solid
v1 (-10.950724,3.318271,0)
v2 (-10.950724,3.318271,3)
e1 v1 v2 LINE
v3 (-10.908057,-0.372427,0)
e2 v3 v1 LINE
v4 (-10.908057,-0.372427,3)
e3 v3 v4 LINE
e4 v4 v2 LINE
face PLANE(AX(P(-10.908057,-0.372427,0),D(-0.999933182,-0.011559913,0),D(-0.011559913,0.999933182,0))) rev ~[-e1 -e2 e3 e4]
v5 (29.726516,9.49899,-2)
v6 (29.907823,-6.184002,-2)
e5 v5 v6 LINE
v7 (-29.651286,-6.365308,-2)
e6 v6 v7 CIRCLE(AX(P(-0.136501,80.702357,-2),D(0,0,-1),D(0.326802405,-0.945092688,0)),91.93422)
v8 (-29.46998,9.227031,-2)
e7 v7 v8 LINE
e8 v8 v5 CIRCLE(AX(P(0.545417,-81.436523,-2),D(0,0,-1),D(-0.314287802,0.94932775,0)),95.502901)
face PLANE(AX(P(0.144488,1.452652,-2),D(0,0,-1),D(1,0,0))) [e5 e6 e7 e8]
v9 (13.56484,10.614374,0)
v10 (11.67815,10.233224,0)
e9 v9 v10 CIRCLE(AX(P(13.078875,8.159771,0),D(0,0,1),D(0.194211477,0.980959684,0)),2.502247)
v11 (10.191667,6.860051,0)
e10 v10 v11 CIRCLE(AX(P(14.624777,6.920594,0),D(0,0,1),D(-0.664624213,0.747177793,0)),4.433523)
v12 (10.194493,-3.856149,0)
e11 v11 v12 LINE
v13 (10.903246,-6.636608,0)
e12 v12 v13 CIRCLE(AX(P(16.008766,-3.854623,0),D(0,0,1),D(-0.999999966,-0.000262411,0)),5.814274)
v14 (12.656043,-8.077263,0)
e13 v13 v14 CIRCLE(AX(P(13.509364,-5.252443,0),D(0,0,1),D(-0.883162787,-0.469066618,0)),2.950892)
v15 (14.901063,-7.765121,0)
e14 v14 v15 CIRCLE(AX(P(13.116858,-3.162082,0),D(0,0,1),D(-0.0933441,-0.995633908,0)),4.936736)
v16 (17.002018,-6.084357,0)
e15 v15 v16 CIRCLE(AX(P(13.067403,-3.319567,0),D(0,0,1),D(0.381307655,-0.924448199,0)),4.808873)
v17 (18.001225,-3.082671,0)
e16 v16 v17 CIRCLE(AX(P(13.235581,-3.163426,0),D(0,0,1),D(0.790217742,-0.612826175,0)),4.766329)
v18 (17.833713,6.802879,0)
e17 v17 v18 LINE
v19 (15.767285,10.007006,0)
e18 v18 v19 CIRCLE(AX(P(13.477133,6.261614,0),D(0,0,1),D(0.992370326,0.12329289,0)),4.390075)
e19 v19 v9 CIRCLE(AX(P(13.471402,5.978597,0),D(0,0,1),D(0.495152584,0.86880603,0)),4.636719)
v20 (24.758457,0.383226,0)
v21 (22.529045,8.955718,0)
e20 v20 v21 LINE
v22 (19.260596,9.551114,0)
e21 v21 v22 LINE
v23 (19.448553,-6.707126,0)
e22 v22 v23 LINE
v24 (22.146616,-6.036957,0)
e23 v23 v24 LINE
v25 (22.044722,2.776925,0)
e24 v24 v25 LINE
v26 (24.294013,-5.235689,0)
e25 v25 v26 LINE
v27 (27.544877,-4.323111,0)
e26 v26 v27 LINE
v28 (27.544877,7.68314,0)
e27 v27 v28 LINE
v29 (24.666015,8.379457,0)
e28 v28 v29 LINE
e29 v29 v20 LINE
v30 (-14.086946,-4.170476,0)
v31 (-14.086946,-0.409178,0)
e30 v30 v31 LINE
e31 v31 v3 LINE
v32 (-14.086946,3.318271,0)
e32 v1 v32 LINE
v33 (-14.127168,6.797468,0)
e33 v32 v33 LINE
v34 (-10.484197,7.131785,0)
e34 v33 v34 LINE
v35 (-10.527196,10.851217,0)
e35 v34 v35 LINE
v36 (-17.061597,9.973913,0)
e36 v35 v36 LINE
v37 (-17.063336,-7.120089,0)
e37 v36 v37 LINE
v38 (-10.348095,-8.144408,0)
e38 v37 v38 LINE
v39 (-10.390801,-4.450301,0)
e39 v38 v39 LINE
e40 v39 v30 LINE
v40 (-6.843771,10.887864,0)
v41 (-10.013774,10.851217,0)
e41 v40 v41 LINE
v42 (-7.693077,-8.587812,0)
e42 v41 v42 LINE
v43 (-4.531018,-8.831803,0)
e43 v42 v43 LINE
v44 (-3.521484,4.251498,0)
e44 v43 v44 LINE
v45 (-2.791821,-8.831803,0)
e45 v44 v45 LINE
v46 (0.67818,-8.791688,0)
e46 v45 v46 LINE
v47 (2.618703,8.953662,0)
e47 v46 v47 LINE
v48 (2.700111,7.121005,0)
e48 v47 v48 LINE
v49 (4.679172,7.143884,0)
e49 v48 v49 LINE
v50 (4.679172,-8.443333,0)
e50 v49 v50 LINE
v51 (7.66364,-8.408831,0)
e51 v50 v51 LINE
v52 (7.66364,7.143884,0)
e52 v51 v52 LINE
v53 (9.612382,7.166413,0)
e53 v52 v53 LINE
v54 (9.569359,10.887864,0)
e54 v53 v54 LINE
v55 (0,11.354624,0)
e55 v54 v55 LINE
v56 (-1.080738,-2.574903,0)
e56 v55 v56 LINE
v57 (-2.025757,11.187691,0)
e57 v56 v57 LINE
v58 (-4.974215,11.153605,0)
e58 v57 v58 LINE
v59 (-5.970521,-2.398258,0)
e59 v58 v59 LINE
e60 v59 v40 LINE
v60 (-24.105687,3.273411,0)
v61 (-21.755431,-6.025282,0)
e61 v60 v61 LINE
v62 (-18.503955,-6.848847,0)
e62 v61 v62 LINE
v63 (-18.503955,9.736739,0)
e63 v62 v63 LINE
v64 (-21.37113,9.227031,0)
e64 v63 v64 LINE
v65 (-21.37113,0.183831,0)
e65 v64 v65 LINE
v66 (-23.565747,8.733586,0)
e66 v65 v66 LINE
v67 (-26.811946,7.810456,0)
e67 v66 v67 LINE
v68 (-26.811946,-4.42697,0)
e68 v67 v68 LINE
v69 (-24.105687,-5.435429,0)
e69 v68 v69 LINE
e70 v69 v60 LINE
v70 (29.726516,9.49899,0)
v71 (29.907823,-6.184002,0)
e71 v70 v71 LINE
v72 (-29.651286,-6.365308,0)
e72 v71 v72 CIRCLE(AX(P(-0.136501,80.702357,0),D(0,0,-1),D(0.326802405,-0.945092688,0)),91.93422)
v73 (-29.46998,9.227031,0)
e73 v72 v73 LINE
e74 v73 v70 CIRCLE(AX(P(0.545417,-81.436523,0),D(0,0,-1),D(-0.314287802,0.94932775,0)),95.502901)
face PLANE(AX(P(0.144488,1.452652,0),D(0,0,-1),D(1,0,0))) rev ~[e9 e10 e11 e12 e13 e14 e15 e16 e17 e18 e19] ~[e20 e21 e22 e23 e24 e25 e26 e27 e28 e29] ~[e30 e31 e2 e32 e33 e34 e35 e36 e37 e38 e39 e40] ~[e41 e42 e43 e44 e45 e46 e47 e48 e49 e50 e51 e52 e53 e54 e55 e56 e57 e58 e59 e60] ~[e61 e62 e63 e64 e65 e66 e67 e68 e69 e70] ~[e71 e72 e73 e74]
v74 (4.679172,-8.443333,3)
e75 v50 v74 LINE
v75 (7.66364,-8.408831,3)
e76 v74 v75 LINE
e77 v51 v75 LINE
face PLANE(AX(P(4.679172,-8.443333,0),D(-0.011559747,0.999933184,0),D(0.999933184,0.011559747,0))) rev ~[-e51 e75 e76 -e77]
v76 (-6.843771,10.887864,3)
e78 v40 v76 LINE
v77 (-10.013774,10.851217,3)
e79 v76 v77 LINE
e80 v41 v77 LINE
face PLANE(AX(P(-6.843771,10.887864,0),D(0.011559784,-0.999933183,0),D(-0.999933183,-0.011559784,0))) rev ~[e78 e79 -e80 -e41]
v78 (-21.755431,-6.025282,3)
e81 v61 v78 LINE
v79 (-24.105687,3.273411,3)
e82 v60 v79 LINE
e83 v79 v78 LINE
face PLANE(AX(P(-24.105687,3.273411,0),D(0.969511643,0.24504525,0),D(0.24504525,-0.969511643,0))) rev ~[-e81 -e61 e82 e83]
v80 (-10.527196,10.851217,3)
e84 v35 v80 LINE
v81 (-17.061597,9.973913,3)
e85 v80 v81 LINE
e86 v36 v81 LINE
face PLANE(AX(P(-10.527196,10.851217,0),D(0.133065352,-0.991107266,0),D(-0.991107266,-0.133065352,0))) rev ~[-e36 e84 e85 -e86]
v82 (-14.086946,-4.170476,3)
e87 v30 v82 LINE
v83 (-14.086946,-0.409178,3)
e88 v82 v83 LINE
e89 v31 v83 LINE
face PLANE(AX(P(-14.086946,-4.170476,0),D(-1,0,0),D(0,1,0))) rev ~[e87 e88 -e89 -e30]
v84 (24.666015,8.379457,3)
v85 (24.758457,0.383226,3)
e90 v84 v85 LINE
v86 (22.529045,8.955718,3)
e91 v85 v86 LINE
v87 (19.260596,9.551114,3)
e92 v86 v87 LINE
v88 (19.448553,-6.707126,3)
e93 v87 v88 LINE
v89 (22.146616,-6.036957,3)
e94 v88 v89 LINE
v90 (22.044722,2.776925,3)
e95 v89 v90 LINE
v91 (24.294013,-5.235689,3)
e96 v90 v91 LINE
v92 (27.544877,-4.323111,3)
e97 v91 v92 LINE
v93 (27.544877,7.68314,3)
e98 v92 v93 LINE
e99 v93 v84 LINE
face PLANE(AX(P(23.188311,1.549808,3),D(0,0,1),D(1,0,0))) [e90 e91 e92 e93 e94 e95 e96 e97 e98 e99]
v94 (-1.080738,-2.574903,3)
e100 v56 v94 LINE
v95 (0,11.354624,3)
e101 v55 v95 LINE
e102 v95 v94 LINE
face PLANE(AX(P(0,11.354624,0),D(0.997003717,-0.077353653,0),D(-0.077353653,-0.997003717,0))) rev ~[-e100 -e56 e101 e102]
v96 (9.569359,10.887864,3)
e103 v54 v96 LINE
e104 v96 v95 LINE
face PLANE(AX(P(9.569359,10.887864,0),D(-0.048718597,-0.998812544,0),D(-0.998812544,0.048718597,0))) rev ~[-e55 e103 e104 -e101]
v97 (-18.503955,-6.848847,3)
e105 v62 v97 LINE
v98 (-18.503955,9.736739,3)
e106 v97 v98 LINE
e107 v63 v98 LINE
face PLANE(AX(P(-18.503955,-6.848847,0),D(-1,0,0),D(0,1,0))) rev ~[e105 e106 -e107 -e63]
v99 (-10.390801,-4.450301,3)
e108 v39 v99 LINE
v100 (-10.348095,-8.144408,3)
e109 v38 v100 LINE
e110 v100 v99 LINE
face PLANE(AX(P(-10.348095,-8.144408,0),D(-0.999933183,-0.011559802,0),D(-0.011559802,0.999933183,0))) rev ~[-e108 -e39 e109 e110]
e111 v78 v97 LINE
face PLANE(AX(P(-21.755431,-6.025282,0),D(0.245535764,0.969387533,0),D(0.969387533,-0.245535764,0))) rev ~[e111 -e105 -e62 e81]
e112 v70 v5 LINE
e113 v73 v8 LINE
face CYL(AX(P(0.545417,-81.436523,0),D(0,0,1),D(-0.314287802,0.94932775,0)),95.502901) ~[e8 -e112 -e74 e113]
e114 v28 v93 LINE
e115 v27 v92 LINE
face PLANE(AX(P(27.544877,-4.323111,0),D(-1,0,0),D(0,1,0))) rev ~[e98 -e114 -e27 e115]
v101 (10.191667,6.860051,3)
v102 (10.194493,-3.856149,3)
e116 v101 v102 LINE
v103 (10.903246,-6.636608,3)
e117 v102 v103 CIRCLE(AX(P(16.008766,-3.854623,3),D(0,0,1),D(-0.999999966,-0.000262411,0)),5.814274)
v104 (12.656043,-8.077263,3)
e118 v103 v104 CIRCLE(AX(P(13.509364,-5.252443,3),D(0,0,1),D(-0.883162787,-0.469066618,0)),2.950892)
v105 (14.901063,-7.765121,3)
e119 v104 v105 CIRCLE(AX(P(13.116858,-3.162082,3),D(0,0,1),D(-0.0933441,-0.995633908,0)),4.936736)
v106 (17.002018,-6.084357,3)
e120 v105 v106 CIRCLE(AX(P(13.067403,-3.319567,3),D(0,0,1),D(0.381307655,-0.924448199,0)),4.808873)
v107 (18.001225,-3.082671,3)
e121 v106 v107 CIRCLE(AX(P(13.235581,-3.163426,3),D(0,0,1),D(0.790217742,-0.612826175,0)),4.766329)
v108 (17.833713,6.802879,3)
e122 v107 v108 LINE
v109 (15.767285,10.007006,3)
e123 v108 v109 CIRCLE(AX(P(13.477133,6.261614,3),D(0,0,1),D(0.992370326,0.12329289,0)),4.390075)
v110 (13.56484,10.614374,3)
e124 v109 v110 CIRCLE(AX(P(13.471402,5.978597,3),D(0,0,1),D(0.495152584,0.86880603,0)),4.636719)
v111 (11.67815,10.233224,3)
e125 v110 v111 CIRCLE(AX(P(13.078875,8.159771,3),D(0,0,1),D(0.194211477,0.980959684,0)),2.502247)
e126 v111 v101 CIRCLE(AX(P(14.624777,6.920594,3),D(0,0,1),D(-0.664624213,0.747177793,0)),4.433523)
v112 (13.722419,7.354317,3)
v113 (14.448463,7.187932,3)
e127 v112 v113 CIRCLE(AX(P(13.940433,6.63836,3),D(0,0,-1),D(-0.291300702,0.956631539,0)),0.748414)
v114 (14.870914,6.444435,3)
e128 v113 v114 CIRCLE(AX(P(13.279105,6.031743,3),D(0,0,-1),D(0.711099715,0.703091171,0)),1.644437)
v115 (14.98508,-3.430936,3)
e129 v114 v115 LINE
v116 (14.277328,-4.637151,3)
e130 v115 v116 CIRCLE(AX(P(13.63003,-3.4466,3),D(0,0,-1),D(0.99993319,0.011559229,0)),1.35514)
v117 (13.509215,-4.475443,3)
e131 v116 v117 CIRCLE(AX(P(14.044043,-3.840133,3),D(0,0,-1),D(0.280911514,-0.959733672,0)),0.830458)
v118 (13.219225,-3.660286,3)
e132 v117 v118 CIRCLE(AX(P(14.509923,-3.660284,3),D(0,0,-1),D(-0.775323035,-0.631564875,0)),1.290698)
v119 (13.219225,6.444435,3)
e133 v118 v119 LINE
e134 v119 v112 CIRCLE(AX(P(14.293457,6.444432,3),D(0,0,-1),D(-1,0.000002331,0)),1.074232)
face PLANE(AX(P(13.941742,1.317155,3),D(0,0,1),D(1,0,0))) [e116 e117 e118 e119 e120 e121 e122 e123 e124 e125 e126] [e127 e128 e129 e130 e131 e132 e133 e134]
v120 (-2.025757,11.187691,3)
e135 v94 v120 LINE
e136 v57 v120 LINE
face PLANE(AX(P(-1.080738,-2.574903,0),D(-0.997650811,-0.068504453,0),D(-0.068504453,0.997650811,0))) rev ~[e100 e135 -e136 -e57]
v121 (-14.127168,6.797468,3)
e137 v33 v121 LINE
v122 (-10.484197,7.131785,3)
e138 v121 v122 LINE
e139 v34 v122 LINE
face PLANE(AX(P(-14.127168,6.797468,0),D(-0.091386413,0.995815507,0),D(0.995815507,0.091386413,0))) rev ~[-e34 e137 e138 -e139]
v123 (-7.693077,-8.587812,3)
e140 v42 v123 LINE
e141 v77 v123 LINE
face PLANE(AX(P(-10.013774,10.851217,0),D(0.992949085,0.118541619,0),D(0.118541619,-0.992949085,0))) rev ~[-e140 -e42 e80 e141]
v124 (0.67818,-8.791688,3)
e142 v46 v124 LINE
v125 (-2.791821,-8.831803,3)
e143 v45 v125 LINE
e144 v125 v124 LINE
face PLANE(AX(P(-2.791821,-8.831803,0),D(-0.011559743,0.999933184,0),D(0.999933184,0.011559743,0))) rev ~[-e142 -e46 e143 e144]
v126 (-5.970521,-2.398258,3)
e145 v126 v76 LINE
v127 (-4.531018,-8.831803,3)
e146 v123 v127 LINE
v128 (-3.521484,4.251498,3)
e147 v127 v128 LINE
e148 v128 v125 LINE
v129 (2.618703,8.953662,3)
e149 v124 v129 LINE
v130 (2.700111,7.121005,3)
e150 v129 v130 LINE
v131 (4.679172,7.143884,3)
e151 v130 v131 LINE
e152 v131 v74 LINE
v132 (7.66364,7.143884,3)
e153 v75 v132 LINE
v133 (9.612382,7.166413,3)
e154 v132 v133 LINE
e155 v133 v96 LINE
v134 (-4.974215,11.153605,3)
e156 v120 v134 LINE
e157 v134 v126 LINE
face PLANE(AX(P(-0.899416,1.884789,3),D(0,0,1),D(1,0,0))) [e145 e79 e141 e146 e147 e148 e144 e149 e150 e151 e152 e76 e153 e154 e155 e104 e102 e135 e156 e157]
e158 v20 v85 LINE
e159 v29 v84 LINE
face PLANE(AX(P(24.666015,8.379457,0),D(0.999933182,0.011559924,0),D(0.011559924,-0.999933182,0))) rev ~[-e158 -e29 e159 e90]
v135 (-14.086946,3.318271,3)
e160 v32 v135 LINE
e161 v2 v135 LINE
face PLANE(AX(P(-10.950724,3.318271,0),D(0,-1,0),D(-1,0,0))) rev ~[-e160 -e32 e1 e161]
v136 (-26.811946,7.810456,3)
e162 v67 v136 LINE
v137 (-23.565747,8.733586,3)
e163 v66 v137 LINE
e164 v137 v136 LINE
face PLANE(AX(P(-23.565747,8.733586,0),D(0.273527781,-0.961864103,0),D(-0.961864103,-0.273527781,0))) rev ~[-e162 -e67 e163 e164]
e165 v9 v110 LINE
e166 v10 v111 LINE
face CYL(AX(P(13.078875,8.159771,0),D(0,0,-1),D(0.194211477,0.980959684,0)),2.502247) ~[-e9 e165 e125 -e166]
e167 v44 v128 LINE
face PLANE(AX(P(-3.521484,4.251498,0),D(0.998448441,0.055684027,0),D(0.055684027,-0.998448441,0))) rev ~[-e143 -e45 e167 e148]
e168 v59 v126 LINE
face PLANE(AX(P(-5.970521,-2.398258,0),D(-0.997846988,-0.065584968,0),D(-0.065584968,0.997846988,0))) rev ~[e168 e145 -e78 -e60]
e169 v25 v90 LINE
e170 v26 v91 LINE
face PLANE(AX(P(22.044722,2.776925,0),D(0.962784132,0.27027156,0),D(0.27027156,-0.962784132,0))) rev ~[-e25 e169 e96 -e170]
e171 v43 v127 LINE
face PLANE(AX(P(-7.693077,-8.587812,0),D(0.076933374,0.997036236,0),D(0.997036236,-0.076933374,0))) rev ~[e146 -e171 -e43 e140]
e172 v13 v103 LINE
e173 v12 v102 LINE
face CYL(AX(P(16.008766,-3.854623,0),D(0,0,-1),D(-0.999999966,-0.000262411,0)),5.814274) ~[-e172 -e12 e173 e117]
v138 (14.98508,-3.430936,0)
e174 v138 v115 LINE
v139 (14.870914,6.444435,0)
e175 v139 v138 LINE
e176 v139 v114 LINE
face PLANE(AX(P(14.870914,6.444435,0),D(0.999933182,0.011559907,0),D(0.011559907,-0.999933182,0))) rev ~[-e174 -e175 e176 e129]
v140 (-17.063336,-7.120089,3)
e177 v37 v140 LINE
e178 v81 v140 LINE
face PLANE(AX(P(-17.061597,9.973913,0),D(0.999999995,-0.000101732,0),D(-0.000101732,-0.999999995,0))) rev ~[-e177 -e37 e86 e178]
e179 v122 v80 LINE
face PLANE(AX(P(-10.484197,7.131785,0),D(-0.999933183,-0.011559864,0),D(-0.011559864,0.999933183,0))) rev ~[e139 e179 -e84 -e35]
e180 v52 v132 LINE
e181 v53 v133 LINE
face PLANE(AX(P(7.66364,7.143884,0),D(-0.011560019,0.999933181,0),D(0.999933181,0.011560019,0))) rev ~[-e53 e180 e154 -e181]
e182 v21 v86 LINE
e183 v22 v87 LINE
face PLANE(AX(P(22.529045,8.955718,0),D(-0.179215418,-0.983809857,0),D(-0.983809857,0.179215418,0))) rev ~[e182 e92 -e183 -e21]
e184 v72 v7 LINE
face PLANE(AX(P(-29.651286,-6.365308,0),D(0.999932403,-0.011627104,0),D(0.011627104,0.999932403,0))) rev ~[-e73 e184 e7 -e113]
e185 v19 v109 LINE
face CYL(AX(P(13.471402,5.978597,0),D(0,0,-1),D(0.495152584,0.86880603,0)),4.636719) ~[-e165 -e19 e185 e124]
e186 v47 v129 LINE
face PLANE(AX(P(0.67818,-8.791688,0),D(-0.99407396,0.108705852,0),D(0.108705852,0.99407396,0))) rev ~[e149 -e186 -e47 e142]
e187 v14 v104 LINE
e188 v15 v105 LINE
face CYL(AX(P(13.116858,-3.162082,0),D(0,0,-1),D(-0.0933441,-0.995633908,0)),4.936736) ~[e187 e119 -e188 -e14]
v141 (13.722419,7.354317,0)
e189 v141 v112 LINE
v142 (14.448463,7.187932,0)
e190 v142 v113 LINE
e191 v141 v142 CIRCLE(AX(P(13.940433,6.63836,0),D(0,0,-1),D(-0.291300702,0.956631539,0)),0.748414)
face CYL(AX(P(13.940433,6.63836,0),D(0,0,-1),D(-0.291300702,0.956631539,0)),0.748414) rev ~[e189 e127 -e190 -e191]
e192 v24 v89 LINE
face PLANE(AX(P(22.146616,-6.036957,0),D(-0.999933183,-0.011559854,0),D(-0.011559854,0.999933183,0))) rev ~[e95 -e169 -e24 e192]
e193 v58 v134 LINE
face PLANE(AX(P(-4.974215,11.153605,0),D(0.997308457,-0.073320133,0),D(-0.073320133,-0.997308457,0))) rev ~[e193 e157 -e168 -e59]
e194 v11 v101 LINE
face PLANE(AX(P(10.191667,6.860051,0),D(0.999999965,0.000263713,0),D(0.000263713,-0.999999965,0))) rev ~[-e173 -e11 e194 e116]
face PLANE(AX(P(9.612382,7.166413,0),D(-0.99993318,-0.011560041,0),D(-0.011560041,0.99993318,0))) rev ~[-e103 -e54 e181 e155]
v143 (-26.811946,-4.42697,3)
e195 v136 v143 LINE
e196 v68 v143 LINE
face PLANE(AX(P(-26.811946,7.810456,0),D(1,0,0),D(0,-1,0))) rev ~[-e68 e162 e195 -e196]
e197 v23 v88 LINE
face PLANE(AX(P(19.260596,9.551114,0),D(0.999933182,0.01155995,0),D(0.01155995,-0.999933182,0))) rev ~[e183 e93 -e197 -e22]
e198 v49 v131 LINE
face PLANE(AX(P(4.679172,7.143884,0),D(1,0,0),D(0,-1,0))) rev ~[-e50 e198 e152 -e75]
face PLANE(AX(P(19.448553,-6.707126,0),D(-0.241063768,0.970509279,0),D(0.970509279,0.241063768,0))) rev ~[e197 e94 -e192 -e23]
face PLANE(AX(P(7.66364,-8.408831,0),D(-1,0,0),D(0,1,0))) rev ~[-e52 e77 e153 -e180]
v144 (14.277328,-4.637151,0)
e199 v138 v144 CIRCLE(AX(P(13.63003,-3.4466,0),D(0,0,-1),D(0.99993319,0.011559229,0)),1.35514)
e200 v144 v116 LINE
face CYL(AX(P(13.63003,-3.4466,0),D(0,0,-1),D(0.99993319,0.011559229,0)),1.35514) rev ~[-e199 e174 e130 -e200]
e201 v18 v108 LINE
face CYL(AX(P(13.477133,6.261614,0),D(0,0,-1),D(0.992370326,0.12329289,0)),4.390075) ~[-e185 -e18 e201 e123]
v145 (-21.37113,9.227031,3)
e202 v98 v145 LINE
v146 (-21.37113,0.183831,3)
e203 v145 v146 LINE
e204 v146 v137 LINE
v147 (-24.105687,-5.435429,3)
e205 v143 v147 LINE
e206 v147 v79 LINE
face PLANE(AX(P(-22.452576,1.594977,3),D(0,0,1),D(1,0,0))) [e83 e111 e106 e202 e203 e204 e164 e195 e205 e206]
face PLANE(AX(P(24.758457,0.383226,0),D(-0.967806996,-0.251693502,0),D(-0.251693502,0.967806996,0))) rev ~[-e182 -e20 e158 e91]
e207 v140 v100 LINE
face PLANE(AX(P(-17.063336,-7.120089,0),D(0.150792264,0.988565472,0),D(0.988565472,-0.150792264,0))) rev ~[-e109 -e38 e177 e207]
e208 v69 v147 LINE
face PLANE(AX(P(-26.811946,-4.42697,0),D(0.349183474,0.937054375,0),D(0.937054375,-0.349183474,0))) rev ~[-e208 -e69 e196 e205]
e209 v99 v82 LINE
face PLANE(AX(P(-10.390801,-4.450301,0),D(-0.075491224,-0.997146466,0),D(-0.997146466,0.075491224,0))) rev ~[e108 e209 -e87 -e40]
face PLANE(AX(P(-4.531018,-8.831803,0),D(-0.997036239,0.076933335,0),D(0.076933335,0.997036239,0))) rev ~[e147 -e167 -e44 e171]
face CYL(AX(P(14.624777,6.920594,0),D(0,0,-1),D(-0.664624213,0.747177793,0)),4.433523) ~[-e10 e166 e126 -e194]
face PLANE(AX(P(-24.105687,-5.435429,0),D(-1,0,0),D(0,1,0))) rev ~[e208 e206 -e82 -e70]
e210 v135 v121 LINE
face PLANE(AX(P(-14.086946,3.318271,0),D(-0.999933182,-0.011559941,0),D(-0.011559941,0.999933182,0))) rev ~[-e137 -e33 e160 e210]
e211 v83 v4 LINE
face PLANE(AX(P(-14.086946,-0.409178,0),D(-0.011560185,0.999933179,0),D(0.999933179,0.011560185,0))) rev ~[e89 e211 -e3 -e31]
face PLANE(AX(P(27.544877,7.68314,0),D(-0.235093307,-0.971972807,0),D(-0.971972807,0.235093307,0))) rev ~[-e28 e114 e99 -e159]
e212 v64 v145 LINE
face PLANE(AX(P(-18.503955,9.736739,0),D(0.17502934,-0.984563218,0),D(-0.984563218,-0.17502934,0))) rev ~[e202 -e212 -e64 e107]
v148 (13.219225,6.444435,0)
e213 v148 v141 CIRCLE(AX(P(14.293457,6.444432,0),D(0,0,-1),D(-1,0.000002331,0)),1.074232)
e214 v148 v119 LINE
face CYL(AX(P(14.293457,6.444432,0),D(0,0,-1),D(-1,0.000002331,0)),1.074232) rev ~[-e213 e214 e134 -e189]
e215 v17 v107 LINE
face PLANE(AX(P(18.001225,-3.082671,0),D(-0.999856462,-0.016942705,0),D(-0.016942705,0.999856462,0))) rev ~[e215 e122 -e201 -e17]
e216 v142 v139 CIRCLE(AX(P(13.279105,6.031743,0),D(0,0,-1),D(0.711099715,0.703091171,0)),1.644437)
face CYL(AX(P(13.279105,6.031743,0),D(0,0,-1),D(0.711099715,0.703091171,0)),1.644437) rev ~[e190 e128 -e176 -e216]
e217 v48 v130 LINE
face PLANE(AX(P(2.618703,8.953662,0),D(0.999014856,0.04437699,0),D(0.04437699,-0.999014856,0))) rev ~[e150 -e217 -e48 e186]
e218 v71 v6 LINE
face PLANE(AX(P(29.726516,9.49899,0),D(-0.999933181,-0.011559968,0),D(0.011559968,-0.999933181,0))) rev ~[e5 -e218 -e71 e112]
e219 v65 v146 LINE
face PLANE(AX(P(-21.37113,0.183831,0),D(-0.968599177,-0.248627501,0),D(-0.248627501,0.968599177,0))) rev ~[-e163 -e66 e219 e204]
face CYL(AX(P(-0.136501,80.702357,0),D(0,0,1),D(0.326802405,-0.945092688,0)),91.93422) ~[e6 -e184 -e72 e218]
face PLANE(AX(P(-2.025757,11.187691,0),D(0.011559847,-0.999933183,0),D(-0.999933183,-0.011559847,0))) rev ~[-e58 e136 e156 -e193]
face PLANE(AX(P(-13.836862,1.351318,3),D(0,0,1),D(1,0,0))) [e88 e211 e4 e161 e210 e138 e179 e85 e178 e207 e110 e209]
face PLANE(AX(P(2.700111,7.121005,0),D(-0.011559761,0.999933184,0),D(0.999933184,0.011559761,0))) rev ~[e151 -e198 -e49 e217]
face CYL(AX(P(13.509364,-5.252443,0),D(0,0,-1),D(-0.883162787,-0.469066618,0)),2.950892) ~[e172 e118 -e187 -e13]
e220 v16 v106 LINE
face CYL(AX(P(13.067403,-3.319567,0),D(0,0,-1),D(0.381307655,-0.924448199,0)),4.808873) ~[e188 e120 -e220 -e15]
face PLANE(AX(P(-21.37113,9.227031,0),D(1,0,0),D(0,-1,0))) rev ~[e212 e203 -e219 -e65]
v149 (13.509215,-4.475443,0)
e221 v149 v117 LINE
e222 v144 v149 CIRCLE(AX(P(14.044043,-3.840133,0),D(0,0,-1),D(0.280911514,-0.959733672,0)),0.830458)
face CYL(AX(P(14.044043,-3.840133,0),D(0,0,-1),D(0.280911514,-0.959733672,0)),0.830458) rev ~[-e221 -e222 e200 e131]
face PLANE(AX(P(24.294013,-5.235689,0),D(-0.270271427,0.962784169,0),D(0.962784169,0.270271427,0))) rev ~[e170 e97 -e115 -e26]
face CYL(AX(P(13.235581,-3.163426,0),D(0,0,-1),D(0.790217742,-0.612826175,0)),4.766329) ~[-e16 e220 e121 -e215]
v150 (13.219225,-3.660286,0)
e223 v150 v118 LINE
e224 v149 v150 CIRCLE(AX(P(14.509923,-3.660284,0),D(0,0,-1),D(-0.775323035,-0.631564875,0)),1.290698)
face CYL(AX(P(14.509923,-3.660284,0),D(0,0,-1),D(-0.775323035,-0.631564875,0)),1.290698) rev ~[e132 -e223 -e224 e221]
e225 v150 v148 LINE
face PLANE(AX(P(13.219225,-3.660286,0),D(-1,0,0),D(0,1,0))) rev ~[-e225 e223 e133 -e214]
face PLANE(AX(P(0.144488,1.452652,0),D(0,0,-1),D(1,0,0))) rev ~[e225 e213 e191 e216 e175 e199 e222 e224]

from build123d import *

# Parameters (mm, degrees)
F1_DEPTH = 3
F3_DEPTH = 2


with BuildPart() as f1:
    # F0 (on Top) → F1 (new body)
    with BuildSketch(Plane.XY):
        Polygon((-23.565747, 8.733586), (-26.811946, 7.810456), (-26.811946, -4.42697), (-24.105687, -5.435429), (-24.105687, 3.273411), (-21.755431, -6.025282), (-18.503955, -6.848847), (-18.503955, 9.736739), (-21.37113, 9.227031), (-21.37113, 0.183831), align=None)
        Polygon((-10.527196, 10.851217), (-17.061597, 9.973913), (-17.063336, -7.120089), (-10.348095, -8.144408), (-10.390801, -4.450301), (-14.086946, -4.170476), (-14.086946, -0.409178), (-10.908057, -0.372427), (-10.950724, 3.318271), (-14.086946, 3.318271), (-14.127168, 6.797468), (-10.484197, 7.131785), align=None)
        Polygon((-6.843771, 10.887864), (-10.013774, 10.851217), (-7.693077, -8.587812), (-4.531018, -8.831803), (-3.521484, 4.251498), (-2.791821, -8.831803), (0.67818, -8.791688), (2.618703, 8.953662), (2.700111, 7.121005), (4.679172, 7.143884), (4.679172, -8.443333), (7.66364, -8.408831), (7.66364, 7.143884), (9.612382, 7.166413), (9.569359, 10.887864), (0, 11.354624), (-1.080738, -2.574903), (-2.025757, 11.187691), (-4.974215, 11.153605), (-5.970521, -2.398258), align=None)
        Polygon((22.529045, 8.955718), (19.260596, 9.551114), (19.448553, -6.707126), (22.146616, -6.036957), (22.044722, 2.776925), (24.294013, -5.235689), (27.544877, -4.323111), (27.544877, 7.68314), (24.666015, 8.379457), (24.758457, 0.383226), align=None)
        with BuildLine():
            ThreePointArc((13.56484, 10.614374), (12.58338, 10.612468), (11.67815, 10.233224))
            ThreePointArc((11.67815, 10.233224), (10.567721, 8.708449), (10.191667, 6.860051))
            Line((10.191667, 6.860051), (10.194493, -3.856149))
            ThreePointArc((10.194493, -3.856149), (10.374655, -5.290787), (10.903246, -6.636608))
            ThreePointArc((10.903246, -6.636608), (11.635651, -7.532128), (12.656043, -8.077263))
            ThreePointArc((12.656043, -8.077263), (13.79671, -8.051781), (14.901063, -7.765121))
            ThreePointArc((14.901063, -7.765121), (16.071482, -7.074666), (17.002018, -6.084357))
            ThreePointArc((17.002018, -6.084357), (17.757929, -4.668834), (18.001225, -3.082671))
            Line((18.001225, -3.082671), (17.833713, 6.802879))
            ThreePointArc((17.833713, 6.802879), (17.166492, 8.640981), (15.767285, 10.007006))
            ThreePointArc((15.767285, 10.007006), (14.704057, 10.448465), (13.56484, 10.614374))
        make_face()
        with BuildLine():
            Line((13.219225, -3.660286), (13.219225, 6.444435))
            ThreePointArc((13.219225, 6.444435), (13.353404, 6.964312), (13.722419, 7.354317))
            ThreePointArc((13.722419, 7.354317), (14.10761, 7.367864), (14.448463, 7.187932))
            ThreePointArc((14.448463, 7.187932), (14.708863, 6.844124), (14.870914, 6.444435))
            Line((14.870914, 6.444435), (14.98508, -3.430936))
            ThreePointArc((14.98508, -3.430936), (14.798828, -4.132397), (14.277328, -4.637151))
            ThreePointArc((14.277328, -4.637151), (13.87296, -4.652777), (13.509215, -4.475443))
            ThreePointArc((13.509215, -4.475443), (13.293882, -4.092887), (13.219225, -3.660286))
        make_face(mode=Mode.SUBTRACT)
    extrude(amount=F1_DEPTH)

    # F2 (on face) → F3 (join)
    with BuildSketch(Plane(origin=(0, 0, 0), x_dir=(1, 0, 0), z_dir=(0, 0, -1))):
        with BuildLine():
            Line((29.726516, -9.49899), (29.907823, 6.184002))
            ThreePointArc((29.907823, 6.184002), (0.143357, 11.231437), (-29.651286, 6.365308))
            Line((-29.651286, 6.365308), (-29.46998, -9.227031))
            ThreePointArc((-29.46998, -9.227031), (0.106665, -14.06537), (29.726516, -9.49899))
        make_face()
    extrude(amount=F3_DEPTH)


solid = f1.part
